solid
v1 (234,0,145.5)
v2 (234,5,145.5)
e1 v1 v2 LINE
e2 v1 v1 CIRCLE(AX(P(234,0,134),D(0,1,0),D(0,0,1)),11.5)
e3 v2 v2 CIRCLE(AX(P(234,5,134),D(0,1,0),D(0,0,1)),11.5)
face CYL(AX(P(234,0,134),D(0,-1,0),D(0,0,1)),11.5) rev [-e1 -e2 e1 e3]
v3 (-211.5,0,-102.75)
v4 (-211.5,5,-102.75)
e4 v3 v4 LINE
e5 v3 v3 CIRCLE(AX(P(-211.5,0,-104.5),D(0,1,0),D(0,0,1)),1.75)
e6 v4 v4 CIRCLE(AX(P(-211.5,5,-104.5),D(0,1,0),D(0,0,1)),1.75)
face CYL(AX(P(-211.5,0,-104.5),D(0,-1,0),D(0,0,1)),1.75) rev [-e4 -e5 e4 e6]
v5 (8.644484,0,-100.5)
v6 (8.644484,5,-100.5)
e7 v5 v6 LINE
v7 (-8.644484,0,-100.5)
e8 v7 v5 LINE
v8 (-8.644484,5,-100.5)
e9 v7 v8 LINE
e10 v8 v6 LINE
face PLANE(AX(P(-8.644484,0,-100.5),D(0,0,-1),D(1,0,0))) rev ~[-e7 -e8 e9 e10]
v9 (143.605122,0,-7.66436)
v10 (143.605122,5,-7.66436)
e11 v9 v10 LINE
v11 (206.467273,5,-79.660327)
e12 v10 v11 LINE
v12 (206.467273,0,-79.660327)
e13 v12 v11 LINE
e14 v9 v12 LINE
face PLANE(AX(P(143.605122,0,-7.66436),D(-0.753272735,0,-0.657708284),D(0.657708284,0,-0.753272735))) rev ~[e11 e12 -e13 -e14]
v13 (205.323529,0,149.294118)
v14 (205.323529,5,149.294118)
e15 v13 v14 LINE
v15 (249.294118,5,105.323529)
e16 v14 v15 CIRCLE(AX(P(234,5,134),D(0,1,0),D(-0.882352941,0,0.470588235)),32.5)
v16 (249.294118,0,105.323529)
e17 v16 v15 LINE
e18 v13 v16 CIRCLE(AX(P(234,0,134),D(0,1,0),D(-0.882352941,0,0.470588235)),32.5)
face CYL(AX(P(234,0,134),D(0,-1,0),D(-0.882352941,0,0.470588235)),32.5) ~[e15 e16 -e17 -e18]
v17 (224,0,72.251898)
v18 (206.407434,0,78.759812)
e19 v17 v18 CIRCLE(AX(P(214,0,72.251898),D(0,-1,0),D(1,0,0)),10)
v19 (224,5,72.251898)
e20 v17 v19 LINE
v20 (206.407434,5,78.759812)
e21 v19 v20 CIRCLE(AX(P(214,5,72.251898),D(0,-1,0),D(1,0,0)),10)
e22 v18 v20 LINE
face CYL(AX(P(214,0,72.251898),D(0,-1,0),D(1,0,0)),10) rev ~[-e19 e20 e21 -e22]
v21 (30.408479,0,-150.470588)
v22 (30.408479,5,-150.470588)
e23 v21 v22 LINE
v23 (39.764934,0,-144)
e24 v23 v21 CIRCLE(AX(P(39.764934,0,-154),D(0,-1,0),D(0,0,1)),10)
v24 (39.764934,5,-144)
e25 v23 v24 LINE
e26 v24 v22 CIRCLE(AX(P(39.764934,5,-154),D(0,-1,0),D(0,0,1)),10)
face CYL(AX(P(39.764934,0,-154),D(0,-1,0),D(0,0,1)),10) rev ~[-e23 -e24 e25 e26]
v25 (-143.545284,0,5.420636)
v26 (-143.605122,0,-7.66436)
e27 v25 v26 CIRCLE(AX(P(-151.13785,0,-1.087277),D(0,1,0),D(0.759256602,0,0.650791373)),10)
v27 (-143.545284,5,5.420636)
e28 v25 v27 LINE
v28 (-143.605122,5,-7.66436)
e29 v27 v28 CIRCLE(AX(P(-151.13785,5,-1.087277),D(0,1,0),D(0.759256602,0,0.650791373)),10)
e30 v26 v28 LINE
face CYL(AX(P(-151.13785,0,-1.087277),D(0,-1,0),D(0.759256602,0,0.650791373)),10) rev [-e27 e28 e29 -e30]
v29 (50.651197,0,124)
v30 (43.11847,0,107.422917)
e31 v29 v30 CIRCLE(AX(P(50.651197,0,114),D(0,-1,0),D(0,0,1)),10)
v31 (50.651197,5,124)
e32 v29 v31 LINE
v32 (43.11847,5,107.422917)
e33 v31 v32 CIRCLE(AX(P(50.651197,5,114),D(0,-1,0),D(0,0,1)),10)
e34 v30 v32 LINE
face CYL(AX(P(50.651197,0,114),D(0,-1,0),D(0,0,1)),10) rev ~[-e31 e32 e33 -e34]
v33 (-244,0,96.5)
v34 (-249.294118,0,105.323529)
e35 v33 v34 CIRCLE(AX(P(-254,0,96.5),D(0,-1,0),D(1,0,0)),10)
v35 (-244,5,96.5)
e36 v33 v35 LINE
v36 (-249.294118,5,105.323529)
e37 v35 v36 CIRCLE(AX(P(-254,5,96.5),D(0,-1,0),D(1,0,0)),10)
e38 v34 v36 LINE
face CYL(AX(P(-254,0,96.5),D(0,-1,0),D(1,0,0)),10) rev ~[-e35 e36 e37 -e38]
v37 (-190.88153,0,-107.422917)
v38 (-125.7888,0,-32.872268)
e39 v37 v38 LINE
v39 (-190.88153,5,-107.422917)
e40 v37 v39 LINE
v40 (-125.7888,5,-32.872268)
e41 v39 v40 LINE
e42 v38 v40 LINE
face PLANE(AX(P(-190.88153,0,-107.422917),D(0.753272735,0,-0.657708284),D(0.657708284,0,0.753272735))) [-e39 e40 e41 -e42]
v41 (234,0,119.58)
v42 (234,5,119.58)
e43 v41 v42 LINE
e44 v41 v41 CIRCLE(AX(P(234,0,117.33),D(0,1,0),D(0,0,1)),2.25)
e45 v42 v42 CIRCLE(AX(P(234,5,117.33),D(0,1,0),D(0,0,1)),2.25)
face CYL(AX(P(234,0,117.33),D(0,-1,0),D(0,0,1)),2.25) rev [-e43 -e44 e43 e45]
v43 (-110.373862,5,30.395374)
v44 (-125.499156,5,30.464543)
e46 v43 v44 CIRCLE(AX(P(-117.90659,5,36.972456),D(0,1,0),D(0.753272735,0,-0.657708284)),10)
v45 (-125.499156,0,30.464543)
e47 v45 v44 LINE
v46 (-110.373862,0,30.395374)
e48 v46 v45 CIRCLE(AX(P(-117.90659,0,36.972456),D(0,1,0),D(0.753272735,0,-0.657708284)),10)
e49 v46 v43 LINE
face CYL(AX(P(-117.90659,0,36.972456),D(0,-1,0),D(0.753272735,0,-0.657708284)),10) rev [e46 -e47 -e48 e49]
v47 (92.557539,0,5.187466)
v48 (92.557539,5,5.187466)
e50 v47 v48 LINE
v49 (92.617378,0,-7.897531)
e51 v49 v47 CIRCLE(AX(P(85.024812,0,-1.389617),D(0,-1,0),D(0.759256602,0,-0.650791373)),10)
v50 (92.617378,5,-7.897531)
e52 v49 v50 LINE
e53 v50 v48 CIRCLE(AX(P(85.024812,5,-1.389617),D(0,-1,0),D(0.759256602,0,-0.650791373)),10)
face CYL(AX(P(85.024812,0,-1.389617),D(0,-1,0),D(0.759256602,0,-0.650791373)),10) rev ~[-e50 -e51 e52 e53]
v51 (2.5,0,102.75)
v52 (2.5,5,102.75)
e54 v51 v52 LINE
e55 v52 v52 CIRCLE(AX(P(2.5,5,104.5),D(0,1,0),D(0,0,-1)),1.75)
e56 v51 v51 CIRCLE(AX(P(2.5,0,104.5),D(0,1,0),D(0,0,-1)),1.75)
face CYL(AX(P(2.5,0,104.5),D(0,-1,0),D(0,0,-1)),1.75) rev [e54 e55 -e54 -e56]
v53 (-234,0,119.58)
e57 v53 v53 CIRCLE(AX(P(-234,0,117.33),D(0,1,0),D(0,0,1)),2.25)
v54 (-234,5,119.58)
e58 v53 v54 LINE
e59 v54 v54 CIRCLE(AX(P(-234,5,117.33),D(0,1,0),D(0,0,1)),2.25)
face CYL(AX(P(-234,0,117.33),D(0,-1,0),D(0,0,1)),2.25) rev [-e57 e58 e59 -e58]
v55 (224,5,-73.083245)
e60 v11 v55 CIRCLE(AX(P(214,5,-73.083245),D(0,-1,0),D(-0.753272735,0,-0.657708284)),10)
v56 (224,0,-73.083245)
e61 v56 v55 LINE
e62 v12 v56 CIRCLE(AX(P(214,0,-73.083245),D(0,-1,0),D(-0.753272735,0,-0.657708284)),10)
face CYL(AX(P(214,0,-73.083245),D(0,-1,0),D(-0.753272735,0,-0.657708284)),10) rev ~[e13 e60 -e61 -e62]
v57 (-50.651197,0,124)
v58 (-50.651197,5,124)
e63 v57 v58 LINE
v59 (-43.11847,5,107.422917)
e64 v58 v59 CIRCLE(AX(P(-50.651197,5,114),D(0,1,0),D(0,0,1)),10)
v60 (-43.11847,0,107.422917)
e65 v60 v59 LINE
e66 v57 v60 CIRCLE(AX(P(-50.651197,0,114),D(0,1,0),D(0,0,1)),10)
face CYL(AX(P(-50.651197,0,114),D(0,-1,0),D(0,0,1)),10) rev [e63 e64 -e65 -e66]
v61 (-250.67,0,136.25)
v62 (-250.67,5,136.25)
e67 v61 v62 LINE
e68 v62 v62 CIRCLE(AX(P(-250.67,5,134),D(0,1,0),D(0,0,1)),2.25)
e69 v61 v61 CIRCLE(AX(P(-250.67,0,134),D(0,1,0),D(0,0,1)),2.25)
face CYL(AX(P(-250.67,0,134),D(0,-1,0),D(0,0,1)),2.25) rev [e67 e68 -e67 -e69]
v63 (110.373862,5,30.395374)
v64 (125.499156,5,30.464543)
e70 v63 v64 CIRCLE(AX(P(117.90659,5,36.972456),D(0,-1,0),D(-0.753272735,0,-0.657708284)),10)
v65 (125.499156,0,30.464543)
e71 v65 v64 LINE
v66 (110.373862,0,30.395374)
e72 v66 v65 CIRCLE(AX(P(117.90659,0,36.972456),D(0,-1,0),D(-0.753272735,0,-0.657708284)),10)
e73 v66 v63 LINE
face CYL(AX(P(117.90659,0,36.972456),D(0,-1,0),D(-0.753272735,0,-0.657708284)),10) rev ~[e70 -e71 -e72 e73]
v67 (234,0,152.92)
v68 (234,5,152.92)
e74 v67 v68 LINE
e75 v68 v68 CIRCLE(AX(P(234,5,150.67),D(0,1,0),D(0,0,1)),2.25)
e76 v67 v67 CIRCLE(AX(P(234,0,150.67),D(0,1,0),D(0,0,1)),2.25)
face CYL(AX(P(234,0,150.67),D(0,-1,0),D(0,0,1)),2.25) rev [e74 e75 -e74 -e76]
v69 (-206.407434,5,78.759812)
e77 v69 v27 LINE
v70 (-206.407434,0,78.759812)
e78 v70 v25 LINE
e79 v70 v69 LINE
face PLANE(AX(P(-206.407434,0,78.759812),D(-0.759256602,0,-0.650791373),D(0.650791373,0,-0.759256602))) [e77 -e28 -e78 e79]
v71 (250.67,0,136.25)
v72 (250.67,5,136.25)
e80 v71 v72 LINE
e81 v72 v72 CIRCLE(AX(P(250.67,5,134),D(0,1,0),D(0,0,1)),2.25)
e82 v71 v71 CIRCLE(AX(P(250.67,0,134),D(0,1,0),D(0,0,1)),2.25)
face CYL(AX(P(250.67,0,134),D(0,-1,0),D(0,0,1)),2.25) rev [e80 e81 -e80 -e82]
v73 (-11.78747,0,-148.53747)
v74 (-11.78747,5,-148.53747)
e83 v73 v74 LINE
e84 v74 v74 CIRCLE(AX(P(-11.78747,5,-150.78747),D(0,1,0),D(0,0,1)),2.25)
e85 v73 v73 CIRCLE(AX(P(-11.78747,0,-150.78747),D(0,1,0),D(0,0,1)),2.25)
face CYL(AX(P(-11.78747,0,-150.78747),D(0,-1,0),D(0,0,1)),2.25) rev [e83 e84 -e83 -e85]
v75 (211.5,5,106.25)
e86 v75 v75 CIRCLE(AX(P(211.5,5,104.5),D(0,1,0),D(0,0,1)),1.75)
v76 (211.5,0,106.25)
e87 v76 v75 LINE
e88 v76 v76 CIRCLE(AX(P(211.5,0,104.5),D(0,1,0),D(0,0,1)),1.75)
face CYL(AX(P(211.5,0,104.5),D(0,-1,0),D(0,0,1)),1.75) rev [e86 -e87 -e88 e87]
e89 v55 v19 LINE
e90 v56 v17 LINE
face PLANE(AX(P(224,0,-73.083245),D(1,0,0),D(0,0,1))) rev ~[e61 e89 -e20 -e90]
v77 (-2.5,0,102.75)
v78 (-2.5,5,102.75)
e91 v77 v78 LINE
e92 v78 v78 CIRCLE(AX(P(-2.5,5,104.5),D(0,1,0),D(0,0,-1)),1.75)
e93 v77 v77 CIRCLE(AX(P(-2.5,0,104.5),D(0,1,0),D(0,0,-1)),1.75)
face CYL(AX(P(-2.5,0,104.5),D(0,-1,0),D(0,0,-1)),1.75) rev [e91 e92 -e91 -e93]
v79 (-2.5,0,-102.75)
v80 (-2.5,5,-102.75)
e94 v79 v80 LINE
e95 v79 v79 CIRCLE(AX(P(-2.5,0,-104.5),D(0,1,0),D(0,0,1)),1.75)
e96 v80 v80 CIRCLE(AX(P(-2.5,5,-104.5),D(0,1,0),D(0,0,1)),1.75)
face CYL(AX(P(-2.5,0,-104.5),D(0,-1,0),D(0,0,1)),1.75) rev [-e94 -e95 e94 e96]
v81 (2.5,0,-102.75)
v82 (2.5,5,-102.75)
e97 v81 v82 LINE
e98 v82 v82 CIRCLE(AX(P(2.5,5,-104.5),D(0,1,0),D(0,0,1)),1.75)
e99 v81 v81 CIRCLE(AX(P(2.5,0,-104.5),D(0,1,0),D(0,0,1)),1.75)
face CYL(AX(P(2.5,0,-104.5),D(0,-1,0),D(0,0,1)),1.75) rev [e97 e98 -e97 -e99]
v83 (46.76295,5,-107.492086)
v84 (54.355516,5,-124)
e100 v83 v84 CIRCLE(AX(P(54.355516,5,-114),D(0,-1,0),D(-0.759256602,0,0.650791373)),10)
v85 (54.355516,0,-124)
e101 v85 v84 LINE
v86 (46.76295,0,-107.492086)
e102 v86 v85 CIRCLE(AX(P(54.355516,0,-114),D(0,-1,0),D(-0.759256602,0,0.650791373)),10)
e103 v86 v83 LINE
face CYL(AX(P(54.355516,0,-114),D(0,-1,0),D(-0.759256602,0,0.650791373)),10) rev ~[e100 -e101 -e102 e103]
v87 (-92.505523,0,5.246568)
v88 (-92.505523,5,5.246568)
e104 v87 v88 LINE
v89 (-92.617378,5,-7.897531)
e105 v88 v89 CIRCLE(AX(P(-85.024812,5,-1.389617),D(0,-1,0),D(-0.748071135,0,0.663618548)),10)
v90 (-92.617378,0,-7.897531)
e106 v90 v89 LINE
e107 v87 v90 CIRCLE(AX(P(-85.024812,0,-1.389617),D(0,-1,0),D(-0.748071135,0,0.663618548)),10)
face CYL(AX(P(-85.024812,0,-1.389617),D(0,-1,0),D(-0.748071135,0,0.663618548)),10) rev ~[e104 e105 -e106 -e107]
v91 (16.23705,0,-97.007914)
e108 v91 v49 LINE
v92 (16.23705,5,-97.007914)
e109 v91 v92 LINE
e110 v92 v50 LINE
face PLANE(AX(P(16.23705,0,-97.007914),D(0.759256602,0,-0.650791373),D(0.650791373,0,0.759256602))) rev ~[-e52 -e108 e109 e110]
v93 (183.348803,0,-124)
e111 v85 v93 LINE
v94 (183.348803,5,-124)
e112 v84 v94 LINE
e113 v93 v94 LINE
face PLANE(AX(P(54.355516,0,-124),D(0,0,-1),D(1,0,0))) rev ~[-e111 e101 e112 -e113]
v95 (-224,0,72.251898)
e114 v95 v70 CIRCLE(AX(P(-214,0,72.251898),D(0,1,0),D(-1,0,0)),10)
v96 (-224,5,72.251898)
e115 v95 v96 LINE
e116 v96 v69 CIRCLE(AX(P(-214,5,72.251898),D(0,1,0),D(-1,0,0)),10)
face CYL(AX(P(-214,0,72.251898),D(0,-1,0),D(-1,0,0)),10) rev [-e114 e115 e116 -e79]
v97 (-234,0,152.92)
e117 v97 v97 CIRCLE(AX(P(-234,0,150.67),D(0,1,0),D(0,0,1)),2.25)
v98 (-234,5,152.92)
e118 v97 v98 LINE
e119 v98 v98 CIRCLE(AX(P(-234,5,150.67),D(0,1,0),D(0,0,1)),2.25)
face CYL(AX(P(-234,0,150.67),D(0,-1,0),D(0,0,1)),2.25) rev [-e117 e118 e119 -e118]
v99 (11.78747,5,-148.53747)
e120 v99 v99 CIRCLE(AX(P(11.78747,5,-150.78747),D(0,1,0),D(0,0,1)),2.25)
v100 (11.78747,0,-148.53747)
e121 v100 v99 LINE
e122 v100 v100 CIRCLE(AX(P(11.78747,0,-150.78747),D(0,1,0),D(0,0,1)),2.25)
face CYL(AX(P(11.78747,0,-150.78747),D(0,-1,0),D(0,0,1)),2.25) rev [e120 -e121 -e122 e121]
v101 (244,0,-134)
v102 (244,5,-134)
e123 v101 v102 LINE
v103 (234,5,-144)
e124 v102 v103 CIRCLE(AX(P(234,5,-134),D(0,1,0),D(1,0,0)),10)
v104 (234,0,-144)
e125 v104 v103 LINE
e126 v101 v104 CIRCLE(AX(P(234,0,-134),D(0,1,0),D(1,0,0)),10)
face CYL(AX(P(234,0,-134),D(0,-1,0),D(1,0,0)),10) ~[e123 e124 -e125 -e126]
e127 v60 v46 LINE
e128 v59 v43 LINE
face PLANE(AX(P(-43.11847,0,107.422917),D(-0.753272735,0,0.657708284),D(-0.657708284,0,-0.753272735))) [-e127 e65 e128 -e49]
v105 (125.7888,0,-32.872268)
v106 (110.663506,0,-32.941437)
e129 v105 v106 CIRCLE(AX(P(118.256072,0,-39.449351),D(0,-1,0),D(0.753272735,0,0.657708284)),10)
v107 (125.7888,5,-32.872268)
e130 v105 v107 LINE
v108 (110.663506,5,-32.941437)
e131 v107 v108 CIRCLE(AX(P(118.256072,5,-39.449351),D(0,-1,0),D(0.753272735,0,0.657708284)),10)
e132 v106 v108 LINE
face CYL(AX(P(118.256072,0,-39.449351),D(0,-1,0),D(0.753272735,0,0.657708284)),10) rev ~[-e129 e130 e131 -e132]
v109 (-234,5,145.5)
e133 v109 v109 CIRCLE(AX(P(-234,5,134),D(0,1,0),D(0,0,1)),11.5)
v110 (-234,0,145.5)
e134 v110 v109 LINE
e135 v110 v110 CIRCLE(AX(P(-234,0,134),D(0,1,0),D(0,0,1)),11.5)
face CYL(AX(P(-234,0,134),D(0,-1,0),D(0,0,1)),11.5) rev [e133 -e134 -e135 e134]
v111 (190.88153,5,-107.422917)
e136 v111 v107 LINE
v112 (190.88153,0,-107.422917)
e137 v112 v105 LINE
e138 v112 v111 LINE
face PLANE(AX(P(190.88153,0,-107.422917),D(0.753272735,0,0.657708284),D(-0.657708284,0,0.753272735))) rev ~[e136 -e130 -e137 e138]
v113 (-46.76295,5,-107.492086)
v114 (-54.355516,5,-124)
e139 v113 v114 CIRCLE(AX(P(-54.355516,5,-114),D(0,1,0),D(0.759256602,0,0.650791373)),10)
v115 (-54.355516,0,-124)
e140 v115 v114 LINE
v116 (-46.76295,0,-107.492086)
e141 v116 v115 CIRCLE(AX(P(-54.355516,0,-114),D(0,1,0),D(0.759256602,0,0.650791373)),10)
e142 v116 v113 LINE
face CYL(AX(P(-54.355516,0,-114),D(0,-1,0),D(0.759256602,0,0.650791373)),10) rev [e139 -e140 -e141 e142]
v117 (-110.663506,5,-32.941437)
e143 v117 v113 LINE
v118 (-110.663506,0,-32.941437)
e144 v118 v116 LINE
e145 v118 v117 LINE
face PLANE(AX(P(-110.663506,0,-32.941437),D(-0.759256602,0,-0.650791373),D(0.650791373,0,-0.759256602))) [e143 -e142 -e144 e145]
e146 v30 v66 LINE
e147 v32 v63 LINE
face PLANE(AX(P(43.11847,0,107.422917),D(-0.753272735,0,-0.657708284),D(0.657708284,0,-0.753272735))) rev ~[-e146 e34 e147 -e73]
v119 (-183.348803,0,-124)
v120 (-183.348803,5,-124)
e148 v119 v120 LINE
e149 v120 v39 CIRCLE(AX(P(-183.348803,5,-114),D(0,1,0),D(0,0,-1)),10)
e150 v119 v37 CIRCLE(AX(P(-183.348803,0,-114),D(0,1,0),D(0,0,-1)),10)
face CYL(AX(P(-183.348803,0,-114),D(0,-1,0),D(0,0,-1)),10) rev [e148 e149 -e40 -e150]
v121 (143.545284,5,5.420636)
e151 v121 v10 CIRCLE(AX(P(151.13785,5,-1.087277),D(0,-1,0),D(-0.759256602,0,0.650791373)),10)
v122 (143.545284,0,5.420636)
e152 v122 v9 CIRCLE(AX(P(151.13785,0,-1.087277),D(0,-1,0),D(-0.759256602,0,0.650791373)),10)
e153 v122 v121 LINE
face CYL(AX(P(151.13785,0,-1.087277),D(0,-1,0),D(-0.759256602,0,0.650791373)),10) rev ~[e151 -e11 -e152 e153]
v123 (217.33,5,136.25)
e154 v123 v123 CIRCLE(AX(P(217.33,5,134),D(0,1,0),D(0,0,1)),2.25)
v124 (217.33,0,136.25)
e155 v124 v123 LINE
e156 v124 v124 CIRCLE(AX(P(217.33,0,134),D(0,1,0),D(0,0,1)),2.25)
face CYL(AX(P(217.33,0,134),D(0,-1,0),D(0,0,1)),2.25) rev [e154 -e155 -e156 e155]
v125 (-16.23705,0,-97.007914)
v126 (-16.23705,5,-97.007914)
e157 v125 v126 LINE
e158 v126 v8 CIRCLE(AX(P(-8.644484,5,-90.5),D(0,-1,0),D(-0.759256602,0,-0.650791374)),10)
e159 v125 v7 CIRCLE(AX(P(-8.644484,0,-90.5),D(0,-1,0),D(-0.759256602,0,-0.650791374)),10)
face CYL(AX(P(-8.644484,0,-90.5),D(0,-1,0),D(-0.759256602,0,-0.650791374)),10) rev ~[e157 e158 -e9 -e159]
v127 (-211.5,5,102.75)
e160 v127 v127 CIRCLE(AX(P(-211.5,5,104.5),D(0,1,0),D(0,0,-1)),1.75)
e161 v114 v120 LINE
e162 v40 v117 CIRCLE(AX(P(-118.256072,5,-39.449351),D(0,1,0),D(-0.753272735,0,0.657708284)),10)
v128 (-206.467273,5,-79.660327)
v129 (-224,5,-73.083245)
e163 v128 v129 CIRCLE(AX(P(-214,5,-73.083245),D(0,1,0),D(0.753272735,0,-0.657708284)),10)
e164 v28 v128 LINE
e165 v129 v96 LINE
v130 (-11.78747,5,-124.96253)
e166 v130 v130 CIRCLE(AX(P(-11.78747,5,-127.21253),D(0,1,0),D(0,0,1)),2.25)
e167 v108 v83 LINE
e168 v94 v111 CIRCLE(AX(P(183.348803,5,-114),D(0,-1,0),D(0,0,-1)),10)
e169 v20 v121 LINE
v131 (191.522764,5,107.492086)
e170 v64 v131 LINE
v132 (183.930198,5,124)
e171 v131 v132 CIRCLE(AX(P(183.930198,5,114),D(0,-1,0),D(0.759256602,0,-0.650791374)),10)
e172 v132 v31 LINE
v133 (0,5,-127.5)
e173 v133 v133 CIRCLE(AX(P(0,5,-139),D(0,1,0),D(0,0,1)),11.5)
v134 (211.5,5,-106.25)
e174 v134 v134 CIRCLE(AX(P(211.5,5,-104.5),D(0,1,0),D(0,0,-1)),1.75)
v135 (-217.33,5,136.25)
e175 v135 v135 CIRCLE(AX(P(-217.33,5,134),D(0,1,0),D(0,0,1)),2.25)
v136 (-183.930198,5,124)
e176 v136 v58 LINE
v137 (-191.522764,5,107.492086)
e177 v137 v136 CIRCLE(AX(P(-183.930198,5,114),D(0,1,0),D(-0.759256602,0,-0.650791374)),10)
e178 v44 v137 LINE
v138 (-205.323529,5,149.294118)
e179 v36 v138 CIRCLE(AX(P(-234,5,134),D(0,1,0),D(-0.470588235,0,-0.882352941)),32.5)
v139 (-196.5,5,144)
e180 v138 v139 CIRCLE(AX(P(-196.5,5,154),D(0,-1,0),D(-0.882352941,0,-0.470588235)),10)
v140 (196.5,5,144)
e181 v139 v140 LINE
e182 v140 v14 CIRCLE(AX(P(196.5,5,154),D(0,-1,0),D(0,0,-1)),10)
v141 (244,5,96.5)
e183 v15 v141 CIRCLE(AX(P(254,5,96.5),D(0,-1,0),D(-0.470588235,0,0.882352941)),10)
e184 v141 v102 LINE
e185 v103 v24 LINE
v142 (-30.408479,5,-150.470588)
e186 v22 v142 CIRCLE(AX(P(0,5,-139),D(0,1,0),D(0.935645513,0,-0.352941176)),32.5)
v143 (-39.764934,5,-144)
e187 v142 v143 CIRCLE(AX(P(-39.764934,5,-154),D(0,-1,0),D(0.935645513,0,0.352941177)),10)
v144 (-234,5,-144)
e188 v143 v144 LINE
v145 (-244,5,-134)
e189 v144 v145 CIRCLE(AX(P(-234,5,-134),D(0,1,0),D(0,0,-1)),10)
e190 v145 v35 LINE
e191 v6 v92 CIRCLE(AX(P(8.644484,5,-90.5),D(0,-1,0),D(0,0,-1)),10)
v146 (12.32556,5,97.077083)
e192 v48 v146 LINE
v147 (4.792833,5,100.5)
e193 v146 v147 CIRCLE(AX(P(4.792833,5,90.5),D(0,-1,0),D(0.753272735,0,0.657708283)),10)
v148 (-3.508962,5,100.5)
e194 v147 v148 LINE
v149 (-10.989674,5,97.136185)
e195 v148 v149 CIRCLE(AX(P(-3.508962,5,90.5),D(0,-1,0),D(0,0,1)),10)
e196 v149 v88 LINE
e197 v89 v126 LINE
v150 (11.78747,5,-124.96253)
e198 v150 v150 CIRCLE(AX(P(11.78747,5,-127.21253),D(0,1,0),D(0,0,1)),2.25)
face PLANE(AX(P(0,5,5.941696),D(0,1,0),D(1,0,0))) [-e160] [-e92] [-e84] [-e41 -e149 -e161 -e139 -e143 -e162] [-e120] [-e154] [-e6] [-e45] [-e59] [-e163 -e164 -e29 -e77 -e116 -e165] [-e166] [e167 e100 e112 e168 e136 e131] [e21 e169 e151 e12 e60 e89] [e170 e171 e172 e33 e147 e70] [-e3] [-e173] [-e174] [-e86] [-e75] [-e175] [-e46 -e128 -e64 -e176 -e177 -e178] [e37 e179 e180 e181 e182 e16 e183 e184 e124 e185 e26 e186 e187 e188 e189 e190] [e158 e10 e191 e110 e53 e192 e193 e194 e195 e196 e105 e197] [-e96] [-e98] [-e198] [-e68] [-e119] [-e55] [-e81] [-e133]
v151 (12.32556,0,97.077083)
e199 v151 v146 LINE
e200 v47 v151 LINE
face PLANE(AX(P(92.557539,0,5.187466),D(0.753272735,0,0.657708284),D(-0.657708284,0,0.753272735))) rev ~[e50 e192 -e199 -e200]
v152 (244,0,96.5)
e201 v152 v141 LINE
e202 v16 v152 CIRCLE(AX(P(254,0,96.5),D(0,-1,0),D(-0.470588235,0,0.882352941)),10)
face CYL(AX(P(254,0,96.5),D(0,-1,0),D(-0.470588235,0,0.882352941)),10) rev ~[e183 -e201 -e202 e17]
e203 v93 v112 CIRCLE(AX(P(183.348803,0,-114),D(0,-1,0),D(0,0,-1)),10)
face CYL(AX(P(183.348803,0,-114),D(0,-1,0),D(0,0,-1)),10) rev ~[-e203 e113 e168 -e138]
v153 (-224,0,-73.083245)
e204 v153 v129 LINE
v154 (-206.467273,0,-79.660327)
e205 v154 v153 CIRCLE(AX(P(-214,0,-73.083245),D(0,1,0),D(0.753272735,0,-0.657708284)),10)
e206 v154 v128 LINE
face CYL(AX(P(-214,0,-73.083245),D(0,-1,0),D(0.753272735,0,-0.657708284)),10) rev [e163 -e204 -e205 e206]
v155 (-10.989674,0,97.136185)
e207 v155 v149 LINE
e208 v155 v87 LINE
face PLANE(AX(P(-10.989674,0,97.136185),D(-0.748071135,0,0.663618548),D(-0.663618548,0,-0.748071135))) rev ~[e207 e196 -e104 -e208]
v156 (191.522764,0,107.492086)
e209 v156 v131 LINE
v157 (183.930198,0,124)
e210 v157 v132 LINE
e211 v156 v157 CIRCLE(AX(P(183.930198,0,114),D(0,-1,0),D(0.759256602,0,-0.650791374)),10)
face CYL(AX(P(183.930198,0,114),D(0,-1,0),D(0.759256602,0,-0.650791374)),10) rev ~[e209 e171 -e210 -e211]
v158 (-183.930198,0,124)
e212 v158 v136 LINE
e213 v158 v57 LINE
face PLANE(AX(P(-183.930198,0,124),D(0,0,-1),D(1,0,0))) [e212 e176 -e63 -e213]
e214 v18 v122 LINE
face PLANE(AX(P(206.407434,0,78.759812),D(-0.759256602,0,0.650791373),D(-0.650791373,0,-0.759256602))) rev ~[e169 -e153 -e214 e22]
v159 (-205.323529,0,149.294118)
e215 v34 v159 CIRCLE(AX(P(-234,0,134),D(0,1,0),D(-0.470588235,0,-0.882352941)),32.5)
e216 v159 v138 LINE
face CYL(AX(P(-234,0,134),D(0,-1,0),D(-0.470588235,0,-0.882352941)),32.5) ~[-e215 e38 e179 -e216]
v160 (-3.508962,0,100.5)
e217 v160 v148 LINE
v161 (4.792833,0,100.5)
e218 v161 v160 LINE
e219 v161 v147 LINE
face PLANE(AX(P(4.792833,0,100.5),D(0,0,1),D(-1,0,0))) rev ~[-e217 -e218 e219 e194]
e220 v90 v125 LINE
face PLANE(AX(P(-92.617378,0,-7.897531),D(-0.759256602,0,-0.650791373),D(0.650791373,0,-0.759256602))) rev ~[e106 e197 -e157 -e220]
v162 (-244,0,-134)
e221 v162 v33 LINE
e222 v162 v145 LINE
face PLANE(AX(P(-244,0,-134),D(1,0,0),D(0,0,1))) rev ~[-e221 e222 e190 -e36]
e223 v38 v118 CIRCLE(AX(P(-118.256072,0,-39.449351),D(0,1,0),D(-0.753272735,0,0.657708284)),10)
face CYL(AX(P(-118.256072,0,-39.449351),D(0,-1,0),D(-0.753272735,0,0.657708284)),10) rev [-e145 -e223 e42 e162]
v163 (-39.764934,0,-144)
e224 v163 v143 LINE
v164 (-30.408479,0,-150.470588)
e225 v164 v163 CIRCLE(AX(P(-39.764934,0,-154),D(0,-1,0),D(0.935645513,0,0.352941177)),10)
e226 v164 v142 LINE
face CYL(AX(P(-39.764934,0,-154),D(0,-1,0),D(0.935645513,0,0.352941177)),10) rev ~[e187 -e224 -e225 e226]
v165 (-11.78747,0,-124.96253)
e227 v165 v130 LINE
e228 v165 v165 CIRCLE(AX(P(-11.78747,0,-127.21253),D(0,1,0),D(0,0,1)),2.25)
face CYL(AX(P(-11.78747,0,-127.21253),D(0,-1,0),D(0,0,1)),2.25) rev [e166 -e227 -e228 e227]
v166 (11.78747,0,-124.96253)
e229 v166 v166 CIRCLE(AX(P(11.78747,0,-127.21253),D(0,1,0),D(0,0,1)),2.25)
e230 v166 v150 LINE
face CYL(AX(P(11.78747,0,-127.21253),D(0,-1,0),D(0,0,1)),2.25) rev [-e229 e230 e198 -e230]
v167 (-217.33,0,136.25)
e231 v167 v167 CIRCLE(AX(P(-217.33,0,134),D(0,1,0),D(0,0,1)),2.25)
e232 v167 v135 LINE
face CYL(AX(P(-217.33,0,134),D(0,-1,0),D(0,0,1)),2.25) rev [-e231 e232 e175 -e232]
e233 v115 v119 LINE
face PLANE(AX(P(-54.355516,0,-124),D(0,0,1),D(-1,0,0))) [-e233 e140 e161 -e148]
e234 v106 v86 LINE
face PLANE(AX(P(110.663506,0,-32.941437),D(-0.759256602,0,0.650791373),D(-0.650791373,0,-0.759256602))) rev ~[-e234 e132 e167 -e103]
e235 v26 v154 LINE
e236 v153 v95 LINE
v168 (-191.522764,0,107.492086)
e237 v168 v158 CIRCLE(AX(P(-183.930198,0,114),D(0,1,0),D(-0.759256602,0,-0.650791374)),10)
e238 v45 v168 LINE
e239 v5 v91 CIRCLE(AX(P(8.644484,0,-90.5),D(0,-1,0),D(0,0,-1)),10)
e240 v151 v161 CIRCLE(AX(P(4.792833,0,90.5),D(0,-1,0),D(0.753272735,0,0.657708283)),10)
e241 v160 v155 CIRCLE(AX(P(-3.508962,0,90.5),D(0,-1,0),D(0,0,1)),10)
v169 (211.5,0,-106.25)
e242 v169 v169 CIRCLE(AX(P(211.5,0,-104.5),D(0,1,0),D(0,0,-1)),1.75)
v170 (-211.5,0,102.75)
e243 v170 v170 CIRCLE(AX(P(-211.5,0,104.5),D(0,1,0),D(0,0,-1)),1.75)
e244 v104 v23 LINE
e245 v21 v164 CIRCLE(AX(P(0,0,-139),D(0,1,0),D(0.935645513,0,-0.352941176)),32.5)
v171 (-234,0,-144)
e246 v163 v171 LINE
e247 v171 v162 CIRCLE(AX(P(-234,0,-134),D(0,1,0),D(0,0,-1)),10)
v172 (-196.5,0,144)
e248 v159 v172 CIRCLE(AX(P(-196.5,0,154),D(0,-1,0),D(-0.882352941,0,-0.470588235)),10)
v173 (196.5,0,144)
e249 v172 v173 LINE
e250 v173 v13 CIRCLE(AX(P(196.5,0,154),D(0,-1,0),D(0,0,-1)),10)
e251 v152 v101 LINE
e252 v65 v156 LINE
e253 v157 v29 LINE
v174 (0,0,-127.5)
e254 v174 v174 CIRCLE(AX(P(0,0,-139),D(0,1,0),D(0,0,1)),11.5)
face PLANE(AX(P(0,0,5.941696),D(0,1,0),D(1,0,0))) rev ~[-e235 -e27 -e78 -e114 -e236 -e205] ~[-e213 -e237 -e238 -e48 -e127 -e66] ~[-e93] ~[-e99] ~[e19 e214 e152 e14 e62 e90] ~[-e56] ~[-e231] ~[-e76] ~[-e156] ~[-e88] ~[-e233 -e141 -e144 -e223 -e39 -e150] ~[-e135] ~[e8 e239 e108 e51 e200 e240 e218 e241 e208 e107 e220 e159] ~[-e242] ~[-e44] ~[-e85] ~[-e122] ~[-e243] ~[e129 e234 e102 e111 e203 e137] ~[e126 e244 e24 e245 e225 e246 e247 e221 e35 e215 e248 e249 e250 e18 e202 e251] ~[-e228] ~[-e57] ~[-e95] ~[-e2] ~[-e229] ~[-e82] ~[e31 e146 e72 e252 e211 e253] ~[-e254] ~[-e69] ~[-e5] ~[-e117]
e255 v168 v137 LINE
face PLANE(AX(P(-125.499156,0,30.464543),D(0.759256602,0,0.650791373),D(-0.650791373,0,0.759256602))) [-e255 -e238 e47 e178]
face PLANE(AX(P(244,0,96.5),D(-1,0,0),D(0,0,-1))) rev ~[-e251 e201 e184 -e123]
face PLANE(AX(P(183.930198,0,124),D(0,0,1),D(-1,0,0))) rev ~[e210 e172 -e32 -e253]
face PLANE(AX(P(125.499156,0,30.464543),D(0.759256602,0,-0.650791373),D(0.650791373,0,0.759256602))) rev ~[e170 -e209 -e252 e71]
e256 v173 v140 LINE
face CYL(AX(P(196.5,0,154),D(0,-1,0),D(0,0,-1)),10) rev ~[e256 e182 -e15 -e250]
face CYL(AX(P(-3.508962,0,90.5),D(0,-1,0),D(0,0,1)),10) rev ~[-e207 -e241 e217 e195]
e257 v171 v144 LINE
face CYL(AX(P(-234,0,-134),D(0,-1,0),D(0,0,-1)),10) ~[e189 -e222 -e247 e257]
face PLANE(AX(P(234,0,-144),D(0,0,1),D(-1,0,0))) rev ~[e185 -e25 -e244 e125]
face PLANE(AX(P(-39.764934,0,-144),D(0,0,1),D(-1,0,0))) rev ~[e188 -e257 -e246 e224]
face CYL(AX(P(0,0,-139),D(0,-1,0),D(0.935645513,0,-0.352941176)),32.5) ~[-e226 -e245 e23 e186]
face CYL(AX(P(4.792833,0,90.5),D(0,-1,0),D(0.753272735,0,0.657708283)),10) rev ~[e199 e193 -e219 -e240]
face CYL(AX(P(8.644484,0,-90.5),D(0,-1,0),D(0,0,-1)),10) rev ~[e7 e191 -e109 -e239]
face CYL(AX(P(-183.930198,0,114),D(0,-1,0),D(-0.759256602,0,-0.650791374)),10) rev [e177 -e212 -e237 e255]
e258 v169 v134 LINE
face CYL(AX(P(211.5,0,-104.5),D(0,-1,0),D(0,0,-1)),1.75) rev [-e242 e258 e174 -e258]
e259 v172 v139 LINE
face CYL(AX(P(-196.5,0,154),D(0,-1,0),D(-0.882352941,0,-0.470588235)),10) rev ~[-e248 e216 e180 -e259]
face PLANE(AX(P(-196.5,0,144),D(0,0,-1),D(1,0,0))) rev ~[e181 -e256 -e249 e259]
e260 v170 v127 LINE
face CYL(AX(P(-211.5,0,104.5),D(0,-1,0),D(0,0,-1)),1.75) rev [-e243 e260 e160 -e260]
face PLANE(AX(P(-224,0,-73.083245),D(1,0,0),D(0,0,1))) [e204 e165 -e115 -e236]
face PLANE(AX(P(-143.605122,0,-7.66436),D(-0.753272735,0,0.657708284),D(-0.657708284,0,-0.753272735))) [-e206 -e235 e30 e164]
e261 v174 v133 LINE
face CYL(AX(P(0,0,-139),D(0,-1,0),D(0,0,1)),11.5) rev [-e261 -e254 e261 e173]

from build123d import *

# Parameters (mm, degrees)
ESQUISSE1_R        = 1.75
ESQUISSE1_R_2      = 11.5
ESQUISSE1_R_3      = 2.25
BOSS_EXTRU_1_DEPTH = 5


with BuildPart() as part:
    # Esquisse1 → Boss.-Extru.1 (new body)
    with BuildSketch(Plane(origin=(0, 0, 0), x_dir=(1, 0, 0), z_dir=(0, 1, 0))):
        with BuildLine():
            Line((-196.5, -144), (196.5, -144))
            ThreePointArc((196.5, -144), (201.644957554, -145.425070743), (205.323529412, -149.294117647))
            ThreePointArc((205.323529412, -149.294117647), (256.980970389, -156.980970389), (249.294117647, -105.323529412))
            ThreePointArc((249.294117647, -105.323529412), (245.425070743, -101.644957554), (244, -96.5))
            Line((244, -96.5), (244, 134))
            ThreePointArc((244, 134), (241.071067812, 141.071067812), (234, 144))
            Line((234, 144), (39.764934301, 144))
            ThreePointArc((39.764934301, 144), (34.076969712, 145.775216792), (30.408479172, 150.470588235))
            ThreePointArc((30.408479172, 150.470588235), (0, 171.5), (-30.408479172, 150.470588235))
            ThreePointArc((-30.408479172, 150.470588235), (-34.076969712, 145.775216792), (-39.764934301, 144))
            Line((-39.764934301, 144), (-234, 144))
            ThreePointArc((-234, 144), (-241.071067812, 141.071067812), (-244, 134))
            Line((-244, 134), (-244, -96.5))
            ThreePointArc((-244, -96.5), (-245.425070743, -101.644957554), (-249.294117647, -105.323529412))
            ThreePointArc((-249.294117647, -105.323529412), (-256.980970389, -156.980970389), (-205.323529412, -149.294117647))
            ThreePointArc((-205.323529412, -149.294117647), (-201.644957554, -145.425070743), (-196.5, -144))
        make_face()
        with Locations(Location((-2.5, 104.5, 0), (0, 0, 270))):  # turned: the seam where the file's is
            Circle(ESQUISSE1_R, mode=Mode.SUBTRACT)
        with Locations(Location((-211.5, 104.5, 0), (0, 0, 270))):  # turned: the seam where the file's is
            Circle(ESQUISSE1_R, mode=Mode.SUBTRACT)
        with Locations(Location((211.5, 104.5, 0), (0, 0, 90))):  # turned: the seam where the file's is
            Circle(ESQUISSE1_R, mode=Mode.SUBTRACT)
        with Locations(Location((2.5, 104.5, 0), (0, 0, 270))):  # turned: the seam where the file's is
            Circle(ESQUISSE1_R, mode=Mode.SUBTRACT)
        with Locations(Location((2.5, -104.5, 0), (0, 0, 90))):  # turned: the seam where the file's is
            Circle(ESQUISSE1_R, mode=Mode.SUBTRACT)
        with Locations(Location((-2.5, -104.5, 0), (0, 0, 90))):  # turned: the seam where the file's is
            Circle(ESQUISSE1_R, mode=Mode.SUBTRACT)
        with Locations(Location((-211.5, -104.5, 0), (0, 0, 90))):  # turned: the seam where the file's is
            Circle(ESQUISSE1_R, mode=Mode.SUBTRACT)
        with Locations(Location((211.5, -104.5, 0), (0, 0, 270))):  # turned: the seam where the file's is
            Circle(ESQUISSE1_R, mode=Mode.SUBTRACT)
        with Locations(Location((0, 139, 0), (0, 0, 270))):  # turned: the seam where the file's is
            Circle(ESQUISSE1_R_2, mode=Mode.SUBTRACT)
        with Locations(Location((-234, -134, 0), (0, 0, 270))):  # turned: the seam where the file's is
            Circle(ESQUISSE1_R_2, mode=Mode.SUBTRACT)
        with Locations(Location((234, -134, 0), (0, 0, 270))):  # turned: the seam where the file's is
            Circle(ESQUISSE1_R_2, mode=Mode.SUBTRACT)
        with Locations(Location((-11.787470042, 127.212529958, 0), (0, 0, 270))):  # turned: the seam where the file's is
            Circle(ESQUISSE1_R_3, mode=Mode.SUBTRACT)
        with Locations(Location((-11.787470042, 150.787470042, 0), (0, 0, 270))):  # turned: the seam where the file's is
            Circle(ESQUISSE1_R_3, mode=Mode.SUBTRACT)
        with Locations(Location((11.787470042, 150.787470042, 0), (0, 0, 270))):  # turned: the seam where the file's is
            Circle(ESQUISSE1_R_3, mode=Mode.SUBTRACT)
        with Locations(Location((11.787470042, 127.212529958, 0), (0, 0, 270))):  # turned: the seam where the file's is
            Circle(ESQUISSE1_R_3, mode=Mode.SUBTRACT)
        with Locations(Location((-234, -117.33, 0), (0, 0, 270))):  # turned: the seam where the file's is
            Circle(ESQUISSE1_R_3, mode=Mode.SUBTRACT)
        with Locations(Location((-217.33, -134, 0), (0, 0, 270))):  # turned: the seam where the file's is
            Circle(ESQUISSE1_R_3, mode=Mode.SUBTRACT)
        with Locations(Location((-234, -150.67, 0), (0, 0, 270))):  # turned: the seam where the file's is
            Circle(ESQUISSE1_R_3, mode=Mode.SUBTRACT)
        with Locations(Location((-250.67, -134, 0), (0, 0, 270))):  # turned: the seam where the file's is
            Circle(ESQUISSE1_R_3, mode=Mode.SUBTRACT)
        with Locations(Location((234, -117.33, 0), (0, 0, 270))):  # turned: the seam where the file's is
            Circle(ESQUISSE1_R_3, mode=Mode.SUBTRACT)
        with Locations(Location((250.67, -134, 0), (0, 0, 270))):  # turned: the seam where the file's is
            Circle(ESQUISSE1_R_3, mode=Mode.SUBTRACT)
        with Locations(Location((234, -150.67, 0), (0, 0, 270))):  # turned: the seam where the file's is
            Circle(ESQUISSE1_R_3, mode=Mode.SUBTRACT)
        with Locations(Location((217.33, -134, 0), (0, 0, 270))):  # turned: the seam where the file's is
            Circle(ESQUISSE1_R_3, mode=Mode.SUBTRACT)
        with BuildLine():
            Line((-190.881530392, 107.422917163), (-125.788799552, 32.872268168))
            ThreePointArc((-125.788799552, 32.872268168), (-118.210341928, 29.449455568), (-110.663506177, 32.94143727))
            Line((-110.663506177, 32.94143727), (-46.762949895, 107.492086265))
            ThreePointArc((-46.762949895, 107.492086265), (-45.270386934, 118.178568095), (-54.355515919, 124))
            Line((-54.355515919, 124), (-183.34880304, 124))
            ThreePointArc((-183.34880304, 124), (-192.452945734, 118.13697786), (-190.881530392, 107.422917163))
        make_face(mode=Mode.SUBTRACT)
        with BuildLine():
            Line((54.355515919, 124), (183.34880304, 124))
            ThreePointArc((183.34880304, 124), (192.452945734, 118.13697786), (190.881530392, 107.422917163))
            Line((190.881530392, 107.422917163), (125.788799552, 32.872268168))
            ThreePointArc((125.788799552, 32.872268168), (118.210341928, 29.449455568), (110.663506177, 32.94143727))
            Line((110.663506177, 32.94143727), (46.762949895, 107.492086265))
            ThreePointArc((46.762949895, 107.492086265), (45.270386934, 118.178568095), (54.355515919, 124))
        make_face(mode=Mode.SUBTRACT)
        with BuildLine():
            Line((-183.930198367, -124), (-50.65119696, -124))
            ThreePointArc((-50.65119696, -124), (-41.547054266, -118.13697786), (-43.118469608, -107.422917163))
            Line((-43.118469608, -107.422917163), (-110.373862185, -30.395373528))
            ThreePointArc((-110.373862185, -30.395373528), (-117.95231981, -26.972560928), (-125.49915556, -30.46454263))
            Line((-125.49915556, -30.46454263), (-191.52276439, -107.492086265))
            ThreePointArc((-191.52276439, -107.492086265), (-193.015327352, -118.178568095), (-183.930198367, -124))
        make_face(mode=Mode.SUBTRACT)
        with BuildLine():
            Line((-206.407433976, -78.759811829), (-143.545283572, -5.420636357))
            ThreePointArc((-143.545283572, -5.420636357), (-141.137954159, 1.13300765), (-143.605122244, 7.664360214))
            Line((-143.605122244, 7.664360214), (-206.467272648, 79.660327344))
            ThreePointArc((-206.467272648, 79.660327344), (-217.512315937, 82.446130641), (-224, 73.083244507))
            Line((-224, 73.083244507), (-224, -72.251898095))
            ThreePointArc((-224, -72.251898095), (-217.469462477, -81.630748244), (-206.407433976, -78.759811829))
        make_face(mode=Mode.SUBTRACT)
        with BuildLine():
            Line((16.237050105, 97.007913735), (92.617378166, 7.897530997))
            ThreePointArc((92.617378166, 7.897530997), (95.024707579, 1.343886989), (92.557539494, -5.187465575))
            Line((92.557539494, -5.187465575), (12.325560242, -97.077082837))
            ThreePointArc((12.325560242, -97.077082837), (8.929810751, -99.604142694), (4.792832891, -100.5))
            Line((4.792832891, -100.5), (-3.508962205, -100.5))
            ThreePointArc((-3.508962205, -100.5), (-7.610068471, -99.620357855), (-10.989673554, -97.136185479))
            Line((-10.989673554, -97.136185479), (-92.505523491, -5.246568217))
            ThreePointArc((-92.505523491, -5.246568217), (-95.024450072, 1.304521568), (-92.617378166, 7.897530997))
            Line((-92.617378166, 7.897530997), (-16.237050105, 97.007913735))
            ThreePointArc((-16.237050105, 97.007913735), (-12.823052176, 99.585128985), (-8.644484081, 100.5))
            Line((-8.644484081, 100.5), (8.644484081, 100.5))
            ThreePointArc((8.644484081, 100.5), (12.823052176, 99.585128985), (16.237050105, 97.007913735))
        make_face(mode=Mode.SUBTRACT)
        with BuildLine():
            Line((224, 73.083244507), (224, -72.251898095))
            ThreePointArc((224, -72.251898095), (217.469462477, -81.630748244), (206.407433976, -78.759811829))
            Line((206.407433976, -78.759811829), (143.545283572, -5.420636357))
            ThreePointArc((143.545283572, -5.420636357), (141.137954159, 1.13300765), (143.605122244, 7.664360214))
            Line((143.605122244, 7.664360214), (206.467272648, 79.660327344))
            ThreePointArc((206.467272648, 79.660327344), (217.512315937, 82.446130641), (224, 73.083244507))
        make_face(mode=Mode.SUBTRACT)
        with BuildLine():
            Line((125.49915556, -30.46454263), (191.52276439, -107.492086265))
            ThreePointArc((191.52276439, -107.492086265), (193.015327352, -118.178568095), (183.930198367, -124))
            Line((183.930198367, -124), (50.65119696, -124))
            ThreePointArc((50.65119696, -124), (41.547054266, -118.13697786), (43.118469608, -107.422917163))
            Line((43.118469608, -107.422917163), (110.373862185, -30.395373528))
            ThreePointArc((110.373862185, -30.395373528), (117.95231981, -26.972560928), (125.49915556, -30.46454263))
        make_face(mode=Mode.SUBTRACT)
    extrude(amount=BOSS_EXTRU_1_DEPTH)


solid = part.part
